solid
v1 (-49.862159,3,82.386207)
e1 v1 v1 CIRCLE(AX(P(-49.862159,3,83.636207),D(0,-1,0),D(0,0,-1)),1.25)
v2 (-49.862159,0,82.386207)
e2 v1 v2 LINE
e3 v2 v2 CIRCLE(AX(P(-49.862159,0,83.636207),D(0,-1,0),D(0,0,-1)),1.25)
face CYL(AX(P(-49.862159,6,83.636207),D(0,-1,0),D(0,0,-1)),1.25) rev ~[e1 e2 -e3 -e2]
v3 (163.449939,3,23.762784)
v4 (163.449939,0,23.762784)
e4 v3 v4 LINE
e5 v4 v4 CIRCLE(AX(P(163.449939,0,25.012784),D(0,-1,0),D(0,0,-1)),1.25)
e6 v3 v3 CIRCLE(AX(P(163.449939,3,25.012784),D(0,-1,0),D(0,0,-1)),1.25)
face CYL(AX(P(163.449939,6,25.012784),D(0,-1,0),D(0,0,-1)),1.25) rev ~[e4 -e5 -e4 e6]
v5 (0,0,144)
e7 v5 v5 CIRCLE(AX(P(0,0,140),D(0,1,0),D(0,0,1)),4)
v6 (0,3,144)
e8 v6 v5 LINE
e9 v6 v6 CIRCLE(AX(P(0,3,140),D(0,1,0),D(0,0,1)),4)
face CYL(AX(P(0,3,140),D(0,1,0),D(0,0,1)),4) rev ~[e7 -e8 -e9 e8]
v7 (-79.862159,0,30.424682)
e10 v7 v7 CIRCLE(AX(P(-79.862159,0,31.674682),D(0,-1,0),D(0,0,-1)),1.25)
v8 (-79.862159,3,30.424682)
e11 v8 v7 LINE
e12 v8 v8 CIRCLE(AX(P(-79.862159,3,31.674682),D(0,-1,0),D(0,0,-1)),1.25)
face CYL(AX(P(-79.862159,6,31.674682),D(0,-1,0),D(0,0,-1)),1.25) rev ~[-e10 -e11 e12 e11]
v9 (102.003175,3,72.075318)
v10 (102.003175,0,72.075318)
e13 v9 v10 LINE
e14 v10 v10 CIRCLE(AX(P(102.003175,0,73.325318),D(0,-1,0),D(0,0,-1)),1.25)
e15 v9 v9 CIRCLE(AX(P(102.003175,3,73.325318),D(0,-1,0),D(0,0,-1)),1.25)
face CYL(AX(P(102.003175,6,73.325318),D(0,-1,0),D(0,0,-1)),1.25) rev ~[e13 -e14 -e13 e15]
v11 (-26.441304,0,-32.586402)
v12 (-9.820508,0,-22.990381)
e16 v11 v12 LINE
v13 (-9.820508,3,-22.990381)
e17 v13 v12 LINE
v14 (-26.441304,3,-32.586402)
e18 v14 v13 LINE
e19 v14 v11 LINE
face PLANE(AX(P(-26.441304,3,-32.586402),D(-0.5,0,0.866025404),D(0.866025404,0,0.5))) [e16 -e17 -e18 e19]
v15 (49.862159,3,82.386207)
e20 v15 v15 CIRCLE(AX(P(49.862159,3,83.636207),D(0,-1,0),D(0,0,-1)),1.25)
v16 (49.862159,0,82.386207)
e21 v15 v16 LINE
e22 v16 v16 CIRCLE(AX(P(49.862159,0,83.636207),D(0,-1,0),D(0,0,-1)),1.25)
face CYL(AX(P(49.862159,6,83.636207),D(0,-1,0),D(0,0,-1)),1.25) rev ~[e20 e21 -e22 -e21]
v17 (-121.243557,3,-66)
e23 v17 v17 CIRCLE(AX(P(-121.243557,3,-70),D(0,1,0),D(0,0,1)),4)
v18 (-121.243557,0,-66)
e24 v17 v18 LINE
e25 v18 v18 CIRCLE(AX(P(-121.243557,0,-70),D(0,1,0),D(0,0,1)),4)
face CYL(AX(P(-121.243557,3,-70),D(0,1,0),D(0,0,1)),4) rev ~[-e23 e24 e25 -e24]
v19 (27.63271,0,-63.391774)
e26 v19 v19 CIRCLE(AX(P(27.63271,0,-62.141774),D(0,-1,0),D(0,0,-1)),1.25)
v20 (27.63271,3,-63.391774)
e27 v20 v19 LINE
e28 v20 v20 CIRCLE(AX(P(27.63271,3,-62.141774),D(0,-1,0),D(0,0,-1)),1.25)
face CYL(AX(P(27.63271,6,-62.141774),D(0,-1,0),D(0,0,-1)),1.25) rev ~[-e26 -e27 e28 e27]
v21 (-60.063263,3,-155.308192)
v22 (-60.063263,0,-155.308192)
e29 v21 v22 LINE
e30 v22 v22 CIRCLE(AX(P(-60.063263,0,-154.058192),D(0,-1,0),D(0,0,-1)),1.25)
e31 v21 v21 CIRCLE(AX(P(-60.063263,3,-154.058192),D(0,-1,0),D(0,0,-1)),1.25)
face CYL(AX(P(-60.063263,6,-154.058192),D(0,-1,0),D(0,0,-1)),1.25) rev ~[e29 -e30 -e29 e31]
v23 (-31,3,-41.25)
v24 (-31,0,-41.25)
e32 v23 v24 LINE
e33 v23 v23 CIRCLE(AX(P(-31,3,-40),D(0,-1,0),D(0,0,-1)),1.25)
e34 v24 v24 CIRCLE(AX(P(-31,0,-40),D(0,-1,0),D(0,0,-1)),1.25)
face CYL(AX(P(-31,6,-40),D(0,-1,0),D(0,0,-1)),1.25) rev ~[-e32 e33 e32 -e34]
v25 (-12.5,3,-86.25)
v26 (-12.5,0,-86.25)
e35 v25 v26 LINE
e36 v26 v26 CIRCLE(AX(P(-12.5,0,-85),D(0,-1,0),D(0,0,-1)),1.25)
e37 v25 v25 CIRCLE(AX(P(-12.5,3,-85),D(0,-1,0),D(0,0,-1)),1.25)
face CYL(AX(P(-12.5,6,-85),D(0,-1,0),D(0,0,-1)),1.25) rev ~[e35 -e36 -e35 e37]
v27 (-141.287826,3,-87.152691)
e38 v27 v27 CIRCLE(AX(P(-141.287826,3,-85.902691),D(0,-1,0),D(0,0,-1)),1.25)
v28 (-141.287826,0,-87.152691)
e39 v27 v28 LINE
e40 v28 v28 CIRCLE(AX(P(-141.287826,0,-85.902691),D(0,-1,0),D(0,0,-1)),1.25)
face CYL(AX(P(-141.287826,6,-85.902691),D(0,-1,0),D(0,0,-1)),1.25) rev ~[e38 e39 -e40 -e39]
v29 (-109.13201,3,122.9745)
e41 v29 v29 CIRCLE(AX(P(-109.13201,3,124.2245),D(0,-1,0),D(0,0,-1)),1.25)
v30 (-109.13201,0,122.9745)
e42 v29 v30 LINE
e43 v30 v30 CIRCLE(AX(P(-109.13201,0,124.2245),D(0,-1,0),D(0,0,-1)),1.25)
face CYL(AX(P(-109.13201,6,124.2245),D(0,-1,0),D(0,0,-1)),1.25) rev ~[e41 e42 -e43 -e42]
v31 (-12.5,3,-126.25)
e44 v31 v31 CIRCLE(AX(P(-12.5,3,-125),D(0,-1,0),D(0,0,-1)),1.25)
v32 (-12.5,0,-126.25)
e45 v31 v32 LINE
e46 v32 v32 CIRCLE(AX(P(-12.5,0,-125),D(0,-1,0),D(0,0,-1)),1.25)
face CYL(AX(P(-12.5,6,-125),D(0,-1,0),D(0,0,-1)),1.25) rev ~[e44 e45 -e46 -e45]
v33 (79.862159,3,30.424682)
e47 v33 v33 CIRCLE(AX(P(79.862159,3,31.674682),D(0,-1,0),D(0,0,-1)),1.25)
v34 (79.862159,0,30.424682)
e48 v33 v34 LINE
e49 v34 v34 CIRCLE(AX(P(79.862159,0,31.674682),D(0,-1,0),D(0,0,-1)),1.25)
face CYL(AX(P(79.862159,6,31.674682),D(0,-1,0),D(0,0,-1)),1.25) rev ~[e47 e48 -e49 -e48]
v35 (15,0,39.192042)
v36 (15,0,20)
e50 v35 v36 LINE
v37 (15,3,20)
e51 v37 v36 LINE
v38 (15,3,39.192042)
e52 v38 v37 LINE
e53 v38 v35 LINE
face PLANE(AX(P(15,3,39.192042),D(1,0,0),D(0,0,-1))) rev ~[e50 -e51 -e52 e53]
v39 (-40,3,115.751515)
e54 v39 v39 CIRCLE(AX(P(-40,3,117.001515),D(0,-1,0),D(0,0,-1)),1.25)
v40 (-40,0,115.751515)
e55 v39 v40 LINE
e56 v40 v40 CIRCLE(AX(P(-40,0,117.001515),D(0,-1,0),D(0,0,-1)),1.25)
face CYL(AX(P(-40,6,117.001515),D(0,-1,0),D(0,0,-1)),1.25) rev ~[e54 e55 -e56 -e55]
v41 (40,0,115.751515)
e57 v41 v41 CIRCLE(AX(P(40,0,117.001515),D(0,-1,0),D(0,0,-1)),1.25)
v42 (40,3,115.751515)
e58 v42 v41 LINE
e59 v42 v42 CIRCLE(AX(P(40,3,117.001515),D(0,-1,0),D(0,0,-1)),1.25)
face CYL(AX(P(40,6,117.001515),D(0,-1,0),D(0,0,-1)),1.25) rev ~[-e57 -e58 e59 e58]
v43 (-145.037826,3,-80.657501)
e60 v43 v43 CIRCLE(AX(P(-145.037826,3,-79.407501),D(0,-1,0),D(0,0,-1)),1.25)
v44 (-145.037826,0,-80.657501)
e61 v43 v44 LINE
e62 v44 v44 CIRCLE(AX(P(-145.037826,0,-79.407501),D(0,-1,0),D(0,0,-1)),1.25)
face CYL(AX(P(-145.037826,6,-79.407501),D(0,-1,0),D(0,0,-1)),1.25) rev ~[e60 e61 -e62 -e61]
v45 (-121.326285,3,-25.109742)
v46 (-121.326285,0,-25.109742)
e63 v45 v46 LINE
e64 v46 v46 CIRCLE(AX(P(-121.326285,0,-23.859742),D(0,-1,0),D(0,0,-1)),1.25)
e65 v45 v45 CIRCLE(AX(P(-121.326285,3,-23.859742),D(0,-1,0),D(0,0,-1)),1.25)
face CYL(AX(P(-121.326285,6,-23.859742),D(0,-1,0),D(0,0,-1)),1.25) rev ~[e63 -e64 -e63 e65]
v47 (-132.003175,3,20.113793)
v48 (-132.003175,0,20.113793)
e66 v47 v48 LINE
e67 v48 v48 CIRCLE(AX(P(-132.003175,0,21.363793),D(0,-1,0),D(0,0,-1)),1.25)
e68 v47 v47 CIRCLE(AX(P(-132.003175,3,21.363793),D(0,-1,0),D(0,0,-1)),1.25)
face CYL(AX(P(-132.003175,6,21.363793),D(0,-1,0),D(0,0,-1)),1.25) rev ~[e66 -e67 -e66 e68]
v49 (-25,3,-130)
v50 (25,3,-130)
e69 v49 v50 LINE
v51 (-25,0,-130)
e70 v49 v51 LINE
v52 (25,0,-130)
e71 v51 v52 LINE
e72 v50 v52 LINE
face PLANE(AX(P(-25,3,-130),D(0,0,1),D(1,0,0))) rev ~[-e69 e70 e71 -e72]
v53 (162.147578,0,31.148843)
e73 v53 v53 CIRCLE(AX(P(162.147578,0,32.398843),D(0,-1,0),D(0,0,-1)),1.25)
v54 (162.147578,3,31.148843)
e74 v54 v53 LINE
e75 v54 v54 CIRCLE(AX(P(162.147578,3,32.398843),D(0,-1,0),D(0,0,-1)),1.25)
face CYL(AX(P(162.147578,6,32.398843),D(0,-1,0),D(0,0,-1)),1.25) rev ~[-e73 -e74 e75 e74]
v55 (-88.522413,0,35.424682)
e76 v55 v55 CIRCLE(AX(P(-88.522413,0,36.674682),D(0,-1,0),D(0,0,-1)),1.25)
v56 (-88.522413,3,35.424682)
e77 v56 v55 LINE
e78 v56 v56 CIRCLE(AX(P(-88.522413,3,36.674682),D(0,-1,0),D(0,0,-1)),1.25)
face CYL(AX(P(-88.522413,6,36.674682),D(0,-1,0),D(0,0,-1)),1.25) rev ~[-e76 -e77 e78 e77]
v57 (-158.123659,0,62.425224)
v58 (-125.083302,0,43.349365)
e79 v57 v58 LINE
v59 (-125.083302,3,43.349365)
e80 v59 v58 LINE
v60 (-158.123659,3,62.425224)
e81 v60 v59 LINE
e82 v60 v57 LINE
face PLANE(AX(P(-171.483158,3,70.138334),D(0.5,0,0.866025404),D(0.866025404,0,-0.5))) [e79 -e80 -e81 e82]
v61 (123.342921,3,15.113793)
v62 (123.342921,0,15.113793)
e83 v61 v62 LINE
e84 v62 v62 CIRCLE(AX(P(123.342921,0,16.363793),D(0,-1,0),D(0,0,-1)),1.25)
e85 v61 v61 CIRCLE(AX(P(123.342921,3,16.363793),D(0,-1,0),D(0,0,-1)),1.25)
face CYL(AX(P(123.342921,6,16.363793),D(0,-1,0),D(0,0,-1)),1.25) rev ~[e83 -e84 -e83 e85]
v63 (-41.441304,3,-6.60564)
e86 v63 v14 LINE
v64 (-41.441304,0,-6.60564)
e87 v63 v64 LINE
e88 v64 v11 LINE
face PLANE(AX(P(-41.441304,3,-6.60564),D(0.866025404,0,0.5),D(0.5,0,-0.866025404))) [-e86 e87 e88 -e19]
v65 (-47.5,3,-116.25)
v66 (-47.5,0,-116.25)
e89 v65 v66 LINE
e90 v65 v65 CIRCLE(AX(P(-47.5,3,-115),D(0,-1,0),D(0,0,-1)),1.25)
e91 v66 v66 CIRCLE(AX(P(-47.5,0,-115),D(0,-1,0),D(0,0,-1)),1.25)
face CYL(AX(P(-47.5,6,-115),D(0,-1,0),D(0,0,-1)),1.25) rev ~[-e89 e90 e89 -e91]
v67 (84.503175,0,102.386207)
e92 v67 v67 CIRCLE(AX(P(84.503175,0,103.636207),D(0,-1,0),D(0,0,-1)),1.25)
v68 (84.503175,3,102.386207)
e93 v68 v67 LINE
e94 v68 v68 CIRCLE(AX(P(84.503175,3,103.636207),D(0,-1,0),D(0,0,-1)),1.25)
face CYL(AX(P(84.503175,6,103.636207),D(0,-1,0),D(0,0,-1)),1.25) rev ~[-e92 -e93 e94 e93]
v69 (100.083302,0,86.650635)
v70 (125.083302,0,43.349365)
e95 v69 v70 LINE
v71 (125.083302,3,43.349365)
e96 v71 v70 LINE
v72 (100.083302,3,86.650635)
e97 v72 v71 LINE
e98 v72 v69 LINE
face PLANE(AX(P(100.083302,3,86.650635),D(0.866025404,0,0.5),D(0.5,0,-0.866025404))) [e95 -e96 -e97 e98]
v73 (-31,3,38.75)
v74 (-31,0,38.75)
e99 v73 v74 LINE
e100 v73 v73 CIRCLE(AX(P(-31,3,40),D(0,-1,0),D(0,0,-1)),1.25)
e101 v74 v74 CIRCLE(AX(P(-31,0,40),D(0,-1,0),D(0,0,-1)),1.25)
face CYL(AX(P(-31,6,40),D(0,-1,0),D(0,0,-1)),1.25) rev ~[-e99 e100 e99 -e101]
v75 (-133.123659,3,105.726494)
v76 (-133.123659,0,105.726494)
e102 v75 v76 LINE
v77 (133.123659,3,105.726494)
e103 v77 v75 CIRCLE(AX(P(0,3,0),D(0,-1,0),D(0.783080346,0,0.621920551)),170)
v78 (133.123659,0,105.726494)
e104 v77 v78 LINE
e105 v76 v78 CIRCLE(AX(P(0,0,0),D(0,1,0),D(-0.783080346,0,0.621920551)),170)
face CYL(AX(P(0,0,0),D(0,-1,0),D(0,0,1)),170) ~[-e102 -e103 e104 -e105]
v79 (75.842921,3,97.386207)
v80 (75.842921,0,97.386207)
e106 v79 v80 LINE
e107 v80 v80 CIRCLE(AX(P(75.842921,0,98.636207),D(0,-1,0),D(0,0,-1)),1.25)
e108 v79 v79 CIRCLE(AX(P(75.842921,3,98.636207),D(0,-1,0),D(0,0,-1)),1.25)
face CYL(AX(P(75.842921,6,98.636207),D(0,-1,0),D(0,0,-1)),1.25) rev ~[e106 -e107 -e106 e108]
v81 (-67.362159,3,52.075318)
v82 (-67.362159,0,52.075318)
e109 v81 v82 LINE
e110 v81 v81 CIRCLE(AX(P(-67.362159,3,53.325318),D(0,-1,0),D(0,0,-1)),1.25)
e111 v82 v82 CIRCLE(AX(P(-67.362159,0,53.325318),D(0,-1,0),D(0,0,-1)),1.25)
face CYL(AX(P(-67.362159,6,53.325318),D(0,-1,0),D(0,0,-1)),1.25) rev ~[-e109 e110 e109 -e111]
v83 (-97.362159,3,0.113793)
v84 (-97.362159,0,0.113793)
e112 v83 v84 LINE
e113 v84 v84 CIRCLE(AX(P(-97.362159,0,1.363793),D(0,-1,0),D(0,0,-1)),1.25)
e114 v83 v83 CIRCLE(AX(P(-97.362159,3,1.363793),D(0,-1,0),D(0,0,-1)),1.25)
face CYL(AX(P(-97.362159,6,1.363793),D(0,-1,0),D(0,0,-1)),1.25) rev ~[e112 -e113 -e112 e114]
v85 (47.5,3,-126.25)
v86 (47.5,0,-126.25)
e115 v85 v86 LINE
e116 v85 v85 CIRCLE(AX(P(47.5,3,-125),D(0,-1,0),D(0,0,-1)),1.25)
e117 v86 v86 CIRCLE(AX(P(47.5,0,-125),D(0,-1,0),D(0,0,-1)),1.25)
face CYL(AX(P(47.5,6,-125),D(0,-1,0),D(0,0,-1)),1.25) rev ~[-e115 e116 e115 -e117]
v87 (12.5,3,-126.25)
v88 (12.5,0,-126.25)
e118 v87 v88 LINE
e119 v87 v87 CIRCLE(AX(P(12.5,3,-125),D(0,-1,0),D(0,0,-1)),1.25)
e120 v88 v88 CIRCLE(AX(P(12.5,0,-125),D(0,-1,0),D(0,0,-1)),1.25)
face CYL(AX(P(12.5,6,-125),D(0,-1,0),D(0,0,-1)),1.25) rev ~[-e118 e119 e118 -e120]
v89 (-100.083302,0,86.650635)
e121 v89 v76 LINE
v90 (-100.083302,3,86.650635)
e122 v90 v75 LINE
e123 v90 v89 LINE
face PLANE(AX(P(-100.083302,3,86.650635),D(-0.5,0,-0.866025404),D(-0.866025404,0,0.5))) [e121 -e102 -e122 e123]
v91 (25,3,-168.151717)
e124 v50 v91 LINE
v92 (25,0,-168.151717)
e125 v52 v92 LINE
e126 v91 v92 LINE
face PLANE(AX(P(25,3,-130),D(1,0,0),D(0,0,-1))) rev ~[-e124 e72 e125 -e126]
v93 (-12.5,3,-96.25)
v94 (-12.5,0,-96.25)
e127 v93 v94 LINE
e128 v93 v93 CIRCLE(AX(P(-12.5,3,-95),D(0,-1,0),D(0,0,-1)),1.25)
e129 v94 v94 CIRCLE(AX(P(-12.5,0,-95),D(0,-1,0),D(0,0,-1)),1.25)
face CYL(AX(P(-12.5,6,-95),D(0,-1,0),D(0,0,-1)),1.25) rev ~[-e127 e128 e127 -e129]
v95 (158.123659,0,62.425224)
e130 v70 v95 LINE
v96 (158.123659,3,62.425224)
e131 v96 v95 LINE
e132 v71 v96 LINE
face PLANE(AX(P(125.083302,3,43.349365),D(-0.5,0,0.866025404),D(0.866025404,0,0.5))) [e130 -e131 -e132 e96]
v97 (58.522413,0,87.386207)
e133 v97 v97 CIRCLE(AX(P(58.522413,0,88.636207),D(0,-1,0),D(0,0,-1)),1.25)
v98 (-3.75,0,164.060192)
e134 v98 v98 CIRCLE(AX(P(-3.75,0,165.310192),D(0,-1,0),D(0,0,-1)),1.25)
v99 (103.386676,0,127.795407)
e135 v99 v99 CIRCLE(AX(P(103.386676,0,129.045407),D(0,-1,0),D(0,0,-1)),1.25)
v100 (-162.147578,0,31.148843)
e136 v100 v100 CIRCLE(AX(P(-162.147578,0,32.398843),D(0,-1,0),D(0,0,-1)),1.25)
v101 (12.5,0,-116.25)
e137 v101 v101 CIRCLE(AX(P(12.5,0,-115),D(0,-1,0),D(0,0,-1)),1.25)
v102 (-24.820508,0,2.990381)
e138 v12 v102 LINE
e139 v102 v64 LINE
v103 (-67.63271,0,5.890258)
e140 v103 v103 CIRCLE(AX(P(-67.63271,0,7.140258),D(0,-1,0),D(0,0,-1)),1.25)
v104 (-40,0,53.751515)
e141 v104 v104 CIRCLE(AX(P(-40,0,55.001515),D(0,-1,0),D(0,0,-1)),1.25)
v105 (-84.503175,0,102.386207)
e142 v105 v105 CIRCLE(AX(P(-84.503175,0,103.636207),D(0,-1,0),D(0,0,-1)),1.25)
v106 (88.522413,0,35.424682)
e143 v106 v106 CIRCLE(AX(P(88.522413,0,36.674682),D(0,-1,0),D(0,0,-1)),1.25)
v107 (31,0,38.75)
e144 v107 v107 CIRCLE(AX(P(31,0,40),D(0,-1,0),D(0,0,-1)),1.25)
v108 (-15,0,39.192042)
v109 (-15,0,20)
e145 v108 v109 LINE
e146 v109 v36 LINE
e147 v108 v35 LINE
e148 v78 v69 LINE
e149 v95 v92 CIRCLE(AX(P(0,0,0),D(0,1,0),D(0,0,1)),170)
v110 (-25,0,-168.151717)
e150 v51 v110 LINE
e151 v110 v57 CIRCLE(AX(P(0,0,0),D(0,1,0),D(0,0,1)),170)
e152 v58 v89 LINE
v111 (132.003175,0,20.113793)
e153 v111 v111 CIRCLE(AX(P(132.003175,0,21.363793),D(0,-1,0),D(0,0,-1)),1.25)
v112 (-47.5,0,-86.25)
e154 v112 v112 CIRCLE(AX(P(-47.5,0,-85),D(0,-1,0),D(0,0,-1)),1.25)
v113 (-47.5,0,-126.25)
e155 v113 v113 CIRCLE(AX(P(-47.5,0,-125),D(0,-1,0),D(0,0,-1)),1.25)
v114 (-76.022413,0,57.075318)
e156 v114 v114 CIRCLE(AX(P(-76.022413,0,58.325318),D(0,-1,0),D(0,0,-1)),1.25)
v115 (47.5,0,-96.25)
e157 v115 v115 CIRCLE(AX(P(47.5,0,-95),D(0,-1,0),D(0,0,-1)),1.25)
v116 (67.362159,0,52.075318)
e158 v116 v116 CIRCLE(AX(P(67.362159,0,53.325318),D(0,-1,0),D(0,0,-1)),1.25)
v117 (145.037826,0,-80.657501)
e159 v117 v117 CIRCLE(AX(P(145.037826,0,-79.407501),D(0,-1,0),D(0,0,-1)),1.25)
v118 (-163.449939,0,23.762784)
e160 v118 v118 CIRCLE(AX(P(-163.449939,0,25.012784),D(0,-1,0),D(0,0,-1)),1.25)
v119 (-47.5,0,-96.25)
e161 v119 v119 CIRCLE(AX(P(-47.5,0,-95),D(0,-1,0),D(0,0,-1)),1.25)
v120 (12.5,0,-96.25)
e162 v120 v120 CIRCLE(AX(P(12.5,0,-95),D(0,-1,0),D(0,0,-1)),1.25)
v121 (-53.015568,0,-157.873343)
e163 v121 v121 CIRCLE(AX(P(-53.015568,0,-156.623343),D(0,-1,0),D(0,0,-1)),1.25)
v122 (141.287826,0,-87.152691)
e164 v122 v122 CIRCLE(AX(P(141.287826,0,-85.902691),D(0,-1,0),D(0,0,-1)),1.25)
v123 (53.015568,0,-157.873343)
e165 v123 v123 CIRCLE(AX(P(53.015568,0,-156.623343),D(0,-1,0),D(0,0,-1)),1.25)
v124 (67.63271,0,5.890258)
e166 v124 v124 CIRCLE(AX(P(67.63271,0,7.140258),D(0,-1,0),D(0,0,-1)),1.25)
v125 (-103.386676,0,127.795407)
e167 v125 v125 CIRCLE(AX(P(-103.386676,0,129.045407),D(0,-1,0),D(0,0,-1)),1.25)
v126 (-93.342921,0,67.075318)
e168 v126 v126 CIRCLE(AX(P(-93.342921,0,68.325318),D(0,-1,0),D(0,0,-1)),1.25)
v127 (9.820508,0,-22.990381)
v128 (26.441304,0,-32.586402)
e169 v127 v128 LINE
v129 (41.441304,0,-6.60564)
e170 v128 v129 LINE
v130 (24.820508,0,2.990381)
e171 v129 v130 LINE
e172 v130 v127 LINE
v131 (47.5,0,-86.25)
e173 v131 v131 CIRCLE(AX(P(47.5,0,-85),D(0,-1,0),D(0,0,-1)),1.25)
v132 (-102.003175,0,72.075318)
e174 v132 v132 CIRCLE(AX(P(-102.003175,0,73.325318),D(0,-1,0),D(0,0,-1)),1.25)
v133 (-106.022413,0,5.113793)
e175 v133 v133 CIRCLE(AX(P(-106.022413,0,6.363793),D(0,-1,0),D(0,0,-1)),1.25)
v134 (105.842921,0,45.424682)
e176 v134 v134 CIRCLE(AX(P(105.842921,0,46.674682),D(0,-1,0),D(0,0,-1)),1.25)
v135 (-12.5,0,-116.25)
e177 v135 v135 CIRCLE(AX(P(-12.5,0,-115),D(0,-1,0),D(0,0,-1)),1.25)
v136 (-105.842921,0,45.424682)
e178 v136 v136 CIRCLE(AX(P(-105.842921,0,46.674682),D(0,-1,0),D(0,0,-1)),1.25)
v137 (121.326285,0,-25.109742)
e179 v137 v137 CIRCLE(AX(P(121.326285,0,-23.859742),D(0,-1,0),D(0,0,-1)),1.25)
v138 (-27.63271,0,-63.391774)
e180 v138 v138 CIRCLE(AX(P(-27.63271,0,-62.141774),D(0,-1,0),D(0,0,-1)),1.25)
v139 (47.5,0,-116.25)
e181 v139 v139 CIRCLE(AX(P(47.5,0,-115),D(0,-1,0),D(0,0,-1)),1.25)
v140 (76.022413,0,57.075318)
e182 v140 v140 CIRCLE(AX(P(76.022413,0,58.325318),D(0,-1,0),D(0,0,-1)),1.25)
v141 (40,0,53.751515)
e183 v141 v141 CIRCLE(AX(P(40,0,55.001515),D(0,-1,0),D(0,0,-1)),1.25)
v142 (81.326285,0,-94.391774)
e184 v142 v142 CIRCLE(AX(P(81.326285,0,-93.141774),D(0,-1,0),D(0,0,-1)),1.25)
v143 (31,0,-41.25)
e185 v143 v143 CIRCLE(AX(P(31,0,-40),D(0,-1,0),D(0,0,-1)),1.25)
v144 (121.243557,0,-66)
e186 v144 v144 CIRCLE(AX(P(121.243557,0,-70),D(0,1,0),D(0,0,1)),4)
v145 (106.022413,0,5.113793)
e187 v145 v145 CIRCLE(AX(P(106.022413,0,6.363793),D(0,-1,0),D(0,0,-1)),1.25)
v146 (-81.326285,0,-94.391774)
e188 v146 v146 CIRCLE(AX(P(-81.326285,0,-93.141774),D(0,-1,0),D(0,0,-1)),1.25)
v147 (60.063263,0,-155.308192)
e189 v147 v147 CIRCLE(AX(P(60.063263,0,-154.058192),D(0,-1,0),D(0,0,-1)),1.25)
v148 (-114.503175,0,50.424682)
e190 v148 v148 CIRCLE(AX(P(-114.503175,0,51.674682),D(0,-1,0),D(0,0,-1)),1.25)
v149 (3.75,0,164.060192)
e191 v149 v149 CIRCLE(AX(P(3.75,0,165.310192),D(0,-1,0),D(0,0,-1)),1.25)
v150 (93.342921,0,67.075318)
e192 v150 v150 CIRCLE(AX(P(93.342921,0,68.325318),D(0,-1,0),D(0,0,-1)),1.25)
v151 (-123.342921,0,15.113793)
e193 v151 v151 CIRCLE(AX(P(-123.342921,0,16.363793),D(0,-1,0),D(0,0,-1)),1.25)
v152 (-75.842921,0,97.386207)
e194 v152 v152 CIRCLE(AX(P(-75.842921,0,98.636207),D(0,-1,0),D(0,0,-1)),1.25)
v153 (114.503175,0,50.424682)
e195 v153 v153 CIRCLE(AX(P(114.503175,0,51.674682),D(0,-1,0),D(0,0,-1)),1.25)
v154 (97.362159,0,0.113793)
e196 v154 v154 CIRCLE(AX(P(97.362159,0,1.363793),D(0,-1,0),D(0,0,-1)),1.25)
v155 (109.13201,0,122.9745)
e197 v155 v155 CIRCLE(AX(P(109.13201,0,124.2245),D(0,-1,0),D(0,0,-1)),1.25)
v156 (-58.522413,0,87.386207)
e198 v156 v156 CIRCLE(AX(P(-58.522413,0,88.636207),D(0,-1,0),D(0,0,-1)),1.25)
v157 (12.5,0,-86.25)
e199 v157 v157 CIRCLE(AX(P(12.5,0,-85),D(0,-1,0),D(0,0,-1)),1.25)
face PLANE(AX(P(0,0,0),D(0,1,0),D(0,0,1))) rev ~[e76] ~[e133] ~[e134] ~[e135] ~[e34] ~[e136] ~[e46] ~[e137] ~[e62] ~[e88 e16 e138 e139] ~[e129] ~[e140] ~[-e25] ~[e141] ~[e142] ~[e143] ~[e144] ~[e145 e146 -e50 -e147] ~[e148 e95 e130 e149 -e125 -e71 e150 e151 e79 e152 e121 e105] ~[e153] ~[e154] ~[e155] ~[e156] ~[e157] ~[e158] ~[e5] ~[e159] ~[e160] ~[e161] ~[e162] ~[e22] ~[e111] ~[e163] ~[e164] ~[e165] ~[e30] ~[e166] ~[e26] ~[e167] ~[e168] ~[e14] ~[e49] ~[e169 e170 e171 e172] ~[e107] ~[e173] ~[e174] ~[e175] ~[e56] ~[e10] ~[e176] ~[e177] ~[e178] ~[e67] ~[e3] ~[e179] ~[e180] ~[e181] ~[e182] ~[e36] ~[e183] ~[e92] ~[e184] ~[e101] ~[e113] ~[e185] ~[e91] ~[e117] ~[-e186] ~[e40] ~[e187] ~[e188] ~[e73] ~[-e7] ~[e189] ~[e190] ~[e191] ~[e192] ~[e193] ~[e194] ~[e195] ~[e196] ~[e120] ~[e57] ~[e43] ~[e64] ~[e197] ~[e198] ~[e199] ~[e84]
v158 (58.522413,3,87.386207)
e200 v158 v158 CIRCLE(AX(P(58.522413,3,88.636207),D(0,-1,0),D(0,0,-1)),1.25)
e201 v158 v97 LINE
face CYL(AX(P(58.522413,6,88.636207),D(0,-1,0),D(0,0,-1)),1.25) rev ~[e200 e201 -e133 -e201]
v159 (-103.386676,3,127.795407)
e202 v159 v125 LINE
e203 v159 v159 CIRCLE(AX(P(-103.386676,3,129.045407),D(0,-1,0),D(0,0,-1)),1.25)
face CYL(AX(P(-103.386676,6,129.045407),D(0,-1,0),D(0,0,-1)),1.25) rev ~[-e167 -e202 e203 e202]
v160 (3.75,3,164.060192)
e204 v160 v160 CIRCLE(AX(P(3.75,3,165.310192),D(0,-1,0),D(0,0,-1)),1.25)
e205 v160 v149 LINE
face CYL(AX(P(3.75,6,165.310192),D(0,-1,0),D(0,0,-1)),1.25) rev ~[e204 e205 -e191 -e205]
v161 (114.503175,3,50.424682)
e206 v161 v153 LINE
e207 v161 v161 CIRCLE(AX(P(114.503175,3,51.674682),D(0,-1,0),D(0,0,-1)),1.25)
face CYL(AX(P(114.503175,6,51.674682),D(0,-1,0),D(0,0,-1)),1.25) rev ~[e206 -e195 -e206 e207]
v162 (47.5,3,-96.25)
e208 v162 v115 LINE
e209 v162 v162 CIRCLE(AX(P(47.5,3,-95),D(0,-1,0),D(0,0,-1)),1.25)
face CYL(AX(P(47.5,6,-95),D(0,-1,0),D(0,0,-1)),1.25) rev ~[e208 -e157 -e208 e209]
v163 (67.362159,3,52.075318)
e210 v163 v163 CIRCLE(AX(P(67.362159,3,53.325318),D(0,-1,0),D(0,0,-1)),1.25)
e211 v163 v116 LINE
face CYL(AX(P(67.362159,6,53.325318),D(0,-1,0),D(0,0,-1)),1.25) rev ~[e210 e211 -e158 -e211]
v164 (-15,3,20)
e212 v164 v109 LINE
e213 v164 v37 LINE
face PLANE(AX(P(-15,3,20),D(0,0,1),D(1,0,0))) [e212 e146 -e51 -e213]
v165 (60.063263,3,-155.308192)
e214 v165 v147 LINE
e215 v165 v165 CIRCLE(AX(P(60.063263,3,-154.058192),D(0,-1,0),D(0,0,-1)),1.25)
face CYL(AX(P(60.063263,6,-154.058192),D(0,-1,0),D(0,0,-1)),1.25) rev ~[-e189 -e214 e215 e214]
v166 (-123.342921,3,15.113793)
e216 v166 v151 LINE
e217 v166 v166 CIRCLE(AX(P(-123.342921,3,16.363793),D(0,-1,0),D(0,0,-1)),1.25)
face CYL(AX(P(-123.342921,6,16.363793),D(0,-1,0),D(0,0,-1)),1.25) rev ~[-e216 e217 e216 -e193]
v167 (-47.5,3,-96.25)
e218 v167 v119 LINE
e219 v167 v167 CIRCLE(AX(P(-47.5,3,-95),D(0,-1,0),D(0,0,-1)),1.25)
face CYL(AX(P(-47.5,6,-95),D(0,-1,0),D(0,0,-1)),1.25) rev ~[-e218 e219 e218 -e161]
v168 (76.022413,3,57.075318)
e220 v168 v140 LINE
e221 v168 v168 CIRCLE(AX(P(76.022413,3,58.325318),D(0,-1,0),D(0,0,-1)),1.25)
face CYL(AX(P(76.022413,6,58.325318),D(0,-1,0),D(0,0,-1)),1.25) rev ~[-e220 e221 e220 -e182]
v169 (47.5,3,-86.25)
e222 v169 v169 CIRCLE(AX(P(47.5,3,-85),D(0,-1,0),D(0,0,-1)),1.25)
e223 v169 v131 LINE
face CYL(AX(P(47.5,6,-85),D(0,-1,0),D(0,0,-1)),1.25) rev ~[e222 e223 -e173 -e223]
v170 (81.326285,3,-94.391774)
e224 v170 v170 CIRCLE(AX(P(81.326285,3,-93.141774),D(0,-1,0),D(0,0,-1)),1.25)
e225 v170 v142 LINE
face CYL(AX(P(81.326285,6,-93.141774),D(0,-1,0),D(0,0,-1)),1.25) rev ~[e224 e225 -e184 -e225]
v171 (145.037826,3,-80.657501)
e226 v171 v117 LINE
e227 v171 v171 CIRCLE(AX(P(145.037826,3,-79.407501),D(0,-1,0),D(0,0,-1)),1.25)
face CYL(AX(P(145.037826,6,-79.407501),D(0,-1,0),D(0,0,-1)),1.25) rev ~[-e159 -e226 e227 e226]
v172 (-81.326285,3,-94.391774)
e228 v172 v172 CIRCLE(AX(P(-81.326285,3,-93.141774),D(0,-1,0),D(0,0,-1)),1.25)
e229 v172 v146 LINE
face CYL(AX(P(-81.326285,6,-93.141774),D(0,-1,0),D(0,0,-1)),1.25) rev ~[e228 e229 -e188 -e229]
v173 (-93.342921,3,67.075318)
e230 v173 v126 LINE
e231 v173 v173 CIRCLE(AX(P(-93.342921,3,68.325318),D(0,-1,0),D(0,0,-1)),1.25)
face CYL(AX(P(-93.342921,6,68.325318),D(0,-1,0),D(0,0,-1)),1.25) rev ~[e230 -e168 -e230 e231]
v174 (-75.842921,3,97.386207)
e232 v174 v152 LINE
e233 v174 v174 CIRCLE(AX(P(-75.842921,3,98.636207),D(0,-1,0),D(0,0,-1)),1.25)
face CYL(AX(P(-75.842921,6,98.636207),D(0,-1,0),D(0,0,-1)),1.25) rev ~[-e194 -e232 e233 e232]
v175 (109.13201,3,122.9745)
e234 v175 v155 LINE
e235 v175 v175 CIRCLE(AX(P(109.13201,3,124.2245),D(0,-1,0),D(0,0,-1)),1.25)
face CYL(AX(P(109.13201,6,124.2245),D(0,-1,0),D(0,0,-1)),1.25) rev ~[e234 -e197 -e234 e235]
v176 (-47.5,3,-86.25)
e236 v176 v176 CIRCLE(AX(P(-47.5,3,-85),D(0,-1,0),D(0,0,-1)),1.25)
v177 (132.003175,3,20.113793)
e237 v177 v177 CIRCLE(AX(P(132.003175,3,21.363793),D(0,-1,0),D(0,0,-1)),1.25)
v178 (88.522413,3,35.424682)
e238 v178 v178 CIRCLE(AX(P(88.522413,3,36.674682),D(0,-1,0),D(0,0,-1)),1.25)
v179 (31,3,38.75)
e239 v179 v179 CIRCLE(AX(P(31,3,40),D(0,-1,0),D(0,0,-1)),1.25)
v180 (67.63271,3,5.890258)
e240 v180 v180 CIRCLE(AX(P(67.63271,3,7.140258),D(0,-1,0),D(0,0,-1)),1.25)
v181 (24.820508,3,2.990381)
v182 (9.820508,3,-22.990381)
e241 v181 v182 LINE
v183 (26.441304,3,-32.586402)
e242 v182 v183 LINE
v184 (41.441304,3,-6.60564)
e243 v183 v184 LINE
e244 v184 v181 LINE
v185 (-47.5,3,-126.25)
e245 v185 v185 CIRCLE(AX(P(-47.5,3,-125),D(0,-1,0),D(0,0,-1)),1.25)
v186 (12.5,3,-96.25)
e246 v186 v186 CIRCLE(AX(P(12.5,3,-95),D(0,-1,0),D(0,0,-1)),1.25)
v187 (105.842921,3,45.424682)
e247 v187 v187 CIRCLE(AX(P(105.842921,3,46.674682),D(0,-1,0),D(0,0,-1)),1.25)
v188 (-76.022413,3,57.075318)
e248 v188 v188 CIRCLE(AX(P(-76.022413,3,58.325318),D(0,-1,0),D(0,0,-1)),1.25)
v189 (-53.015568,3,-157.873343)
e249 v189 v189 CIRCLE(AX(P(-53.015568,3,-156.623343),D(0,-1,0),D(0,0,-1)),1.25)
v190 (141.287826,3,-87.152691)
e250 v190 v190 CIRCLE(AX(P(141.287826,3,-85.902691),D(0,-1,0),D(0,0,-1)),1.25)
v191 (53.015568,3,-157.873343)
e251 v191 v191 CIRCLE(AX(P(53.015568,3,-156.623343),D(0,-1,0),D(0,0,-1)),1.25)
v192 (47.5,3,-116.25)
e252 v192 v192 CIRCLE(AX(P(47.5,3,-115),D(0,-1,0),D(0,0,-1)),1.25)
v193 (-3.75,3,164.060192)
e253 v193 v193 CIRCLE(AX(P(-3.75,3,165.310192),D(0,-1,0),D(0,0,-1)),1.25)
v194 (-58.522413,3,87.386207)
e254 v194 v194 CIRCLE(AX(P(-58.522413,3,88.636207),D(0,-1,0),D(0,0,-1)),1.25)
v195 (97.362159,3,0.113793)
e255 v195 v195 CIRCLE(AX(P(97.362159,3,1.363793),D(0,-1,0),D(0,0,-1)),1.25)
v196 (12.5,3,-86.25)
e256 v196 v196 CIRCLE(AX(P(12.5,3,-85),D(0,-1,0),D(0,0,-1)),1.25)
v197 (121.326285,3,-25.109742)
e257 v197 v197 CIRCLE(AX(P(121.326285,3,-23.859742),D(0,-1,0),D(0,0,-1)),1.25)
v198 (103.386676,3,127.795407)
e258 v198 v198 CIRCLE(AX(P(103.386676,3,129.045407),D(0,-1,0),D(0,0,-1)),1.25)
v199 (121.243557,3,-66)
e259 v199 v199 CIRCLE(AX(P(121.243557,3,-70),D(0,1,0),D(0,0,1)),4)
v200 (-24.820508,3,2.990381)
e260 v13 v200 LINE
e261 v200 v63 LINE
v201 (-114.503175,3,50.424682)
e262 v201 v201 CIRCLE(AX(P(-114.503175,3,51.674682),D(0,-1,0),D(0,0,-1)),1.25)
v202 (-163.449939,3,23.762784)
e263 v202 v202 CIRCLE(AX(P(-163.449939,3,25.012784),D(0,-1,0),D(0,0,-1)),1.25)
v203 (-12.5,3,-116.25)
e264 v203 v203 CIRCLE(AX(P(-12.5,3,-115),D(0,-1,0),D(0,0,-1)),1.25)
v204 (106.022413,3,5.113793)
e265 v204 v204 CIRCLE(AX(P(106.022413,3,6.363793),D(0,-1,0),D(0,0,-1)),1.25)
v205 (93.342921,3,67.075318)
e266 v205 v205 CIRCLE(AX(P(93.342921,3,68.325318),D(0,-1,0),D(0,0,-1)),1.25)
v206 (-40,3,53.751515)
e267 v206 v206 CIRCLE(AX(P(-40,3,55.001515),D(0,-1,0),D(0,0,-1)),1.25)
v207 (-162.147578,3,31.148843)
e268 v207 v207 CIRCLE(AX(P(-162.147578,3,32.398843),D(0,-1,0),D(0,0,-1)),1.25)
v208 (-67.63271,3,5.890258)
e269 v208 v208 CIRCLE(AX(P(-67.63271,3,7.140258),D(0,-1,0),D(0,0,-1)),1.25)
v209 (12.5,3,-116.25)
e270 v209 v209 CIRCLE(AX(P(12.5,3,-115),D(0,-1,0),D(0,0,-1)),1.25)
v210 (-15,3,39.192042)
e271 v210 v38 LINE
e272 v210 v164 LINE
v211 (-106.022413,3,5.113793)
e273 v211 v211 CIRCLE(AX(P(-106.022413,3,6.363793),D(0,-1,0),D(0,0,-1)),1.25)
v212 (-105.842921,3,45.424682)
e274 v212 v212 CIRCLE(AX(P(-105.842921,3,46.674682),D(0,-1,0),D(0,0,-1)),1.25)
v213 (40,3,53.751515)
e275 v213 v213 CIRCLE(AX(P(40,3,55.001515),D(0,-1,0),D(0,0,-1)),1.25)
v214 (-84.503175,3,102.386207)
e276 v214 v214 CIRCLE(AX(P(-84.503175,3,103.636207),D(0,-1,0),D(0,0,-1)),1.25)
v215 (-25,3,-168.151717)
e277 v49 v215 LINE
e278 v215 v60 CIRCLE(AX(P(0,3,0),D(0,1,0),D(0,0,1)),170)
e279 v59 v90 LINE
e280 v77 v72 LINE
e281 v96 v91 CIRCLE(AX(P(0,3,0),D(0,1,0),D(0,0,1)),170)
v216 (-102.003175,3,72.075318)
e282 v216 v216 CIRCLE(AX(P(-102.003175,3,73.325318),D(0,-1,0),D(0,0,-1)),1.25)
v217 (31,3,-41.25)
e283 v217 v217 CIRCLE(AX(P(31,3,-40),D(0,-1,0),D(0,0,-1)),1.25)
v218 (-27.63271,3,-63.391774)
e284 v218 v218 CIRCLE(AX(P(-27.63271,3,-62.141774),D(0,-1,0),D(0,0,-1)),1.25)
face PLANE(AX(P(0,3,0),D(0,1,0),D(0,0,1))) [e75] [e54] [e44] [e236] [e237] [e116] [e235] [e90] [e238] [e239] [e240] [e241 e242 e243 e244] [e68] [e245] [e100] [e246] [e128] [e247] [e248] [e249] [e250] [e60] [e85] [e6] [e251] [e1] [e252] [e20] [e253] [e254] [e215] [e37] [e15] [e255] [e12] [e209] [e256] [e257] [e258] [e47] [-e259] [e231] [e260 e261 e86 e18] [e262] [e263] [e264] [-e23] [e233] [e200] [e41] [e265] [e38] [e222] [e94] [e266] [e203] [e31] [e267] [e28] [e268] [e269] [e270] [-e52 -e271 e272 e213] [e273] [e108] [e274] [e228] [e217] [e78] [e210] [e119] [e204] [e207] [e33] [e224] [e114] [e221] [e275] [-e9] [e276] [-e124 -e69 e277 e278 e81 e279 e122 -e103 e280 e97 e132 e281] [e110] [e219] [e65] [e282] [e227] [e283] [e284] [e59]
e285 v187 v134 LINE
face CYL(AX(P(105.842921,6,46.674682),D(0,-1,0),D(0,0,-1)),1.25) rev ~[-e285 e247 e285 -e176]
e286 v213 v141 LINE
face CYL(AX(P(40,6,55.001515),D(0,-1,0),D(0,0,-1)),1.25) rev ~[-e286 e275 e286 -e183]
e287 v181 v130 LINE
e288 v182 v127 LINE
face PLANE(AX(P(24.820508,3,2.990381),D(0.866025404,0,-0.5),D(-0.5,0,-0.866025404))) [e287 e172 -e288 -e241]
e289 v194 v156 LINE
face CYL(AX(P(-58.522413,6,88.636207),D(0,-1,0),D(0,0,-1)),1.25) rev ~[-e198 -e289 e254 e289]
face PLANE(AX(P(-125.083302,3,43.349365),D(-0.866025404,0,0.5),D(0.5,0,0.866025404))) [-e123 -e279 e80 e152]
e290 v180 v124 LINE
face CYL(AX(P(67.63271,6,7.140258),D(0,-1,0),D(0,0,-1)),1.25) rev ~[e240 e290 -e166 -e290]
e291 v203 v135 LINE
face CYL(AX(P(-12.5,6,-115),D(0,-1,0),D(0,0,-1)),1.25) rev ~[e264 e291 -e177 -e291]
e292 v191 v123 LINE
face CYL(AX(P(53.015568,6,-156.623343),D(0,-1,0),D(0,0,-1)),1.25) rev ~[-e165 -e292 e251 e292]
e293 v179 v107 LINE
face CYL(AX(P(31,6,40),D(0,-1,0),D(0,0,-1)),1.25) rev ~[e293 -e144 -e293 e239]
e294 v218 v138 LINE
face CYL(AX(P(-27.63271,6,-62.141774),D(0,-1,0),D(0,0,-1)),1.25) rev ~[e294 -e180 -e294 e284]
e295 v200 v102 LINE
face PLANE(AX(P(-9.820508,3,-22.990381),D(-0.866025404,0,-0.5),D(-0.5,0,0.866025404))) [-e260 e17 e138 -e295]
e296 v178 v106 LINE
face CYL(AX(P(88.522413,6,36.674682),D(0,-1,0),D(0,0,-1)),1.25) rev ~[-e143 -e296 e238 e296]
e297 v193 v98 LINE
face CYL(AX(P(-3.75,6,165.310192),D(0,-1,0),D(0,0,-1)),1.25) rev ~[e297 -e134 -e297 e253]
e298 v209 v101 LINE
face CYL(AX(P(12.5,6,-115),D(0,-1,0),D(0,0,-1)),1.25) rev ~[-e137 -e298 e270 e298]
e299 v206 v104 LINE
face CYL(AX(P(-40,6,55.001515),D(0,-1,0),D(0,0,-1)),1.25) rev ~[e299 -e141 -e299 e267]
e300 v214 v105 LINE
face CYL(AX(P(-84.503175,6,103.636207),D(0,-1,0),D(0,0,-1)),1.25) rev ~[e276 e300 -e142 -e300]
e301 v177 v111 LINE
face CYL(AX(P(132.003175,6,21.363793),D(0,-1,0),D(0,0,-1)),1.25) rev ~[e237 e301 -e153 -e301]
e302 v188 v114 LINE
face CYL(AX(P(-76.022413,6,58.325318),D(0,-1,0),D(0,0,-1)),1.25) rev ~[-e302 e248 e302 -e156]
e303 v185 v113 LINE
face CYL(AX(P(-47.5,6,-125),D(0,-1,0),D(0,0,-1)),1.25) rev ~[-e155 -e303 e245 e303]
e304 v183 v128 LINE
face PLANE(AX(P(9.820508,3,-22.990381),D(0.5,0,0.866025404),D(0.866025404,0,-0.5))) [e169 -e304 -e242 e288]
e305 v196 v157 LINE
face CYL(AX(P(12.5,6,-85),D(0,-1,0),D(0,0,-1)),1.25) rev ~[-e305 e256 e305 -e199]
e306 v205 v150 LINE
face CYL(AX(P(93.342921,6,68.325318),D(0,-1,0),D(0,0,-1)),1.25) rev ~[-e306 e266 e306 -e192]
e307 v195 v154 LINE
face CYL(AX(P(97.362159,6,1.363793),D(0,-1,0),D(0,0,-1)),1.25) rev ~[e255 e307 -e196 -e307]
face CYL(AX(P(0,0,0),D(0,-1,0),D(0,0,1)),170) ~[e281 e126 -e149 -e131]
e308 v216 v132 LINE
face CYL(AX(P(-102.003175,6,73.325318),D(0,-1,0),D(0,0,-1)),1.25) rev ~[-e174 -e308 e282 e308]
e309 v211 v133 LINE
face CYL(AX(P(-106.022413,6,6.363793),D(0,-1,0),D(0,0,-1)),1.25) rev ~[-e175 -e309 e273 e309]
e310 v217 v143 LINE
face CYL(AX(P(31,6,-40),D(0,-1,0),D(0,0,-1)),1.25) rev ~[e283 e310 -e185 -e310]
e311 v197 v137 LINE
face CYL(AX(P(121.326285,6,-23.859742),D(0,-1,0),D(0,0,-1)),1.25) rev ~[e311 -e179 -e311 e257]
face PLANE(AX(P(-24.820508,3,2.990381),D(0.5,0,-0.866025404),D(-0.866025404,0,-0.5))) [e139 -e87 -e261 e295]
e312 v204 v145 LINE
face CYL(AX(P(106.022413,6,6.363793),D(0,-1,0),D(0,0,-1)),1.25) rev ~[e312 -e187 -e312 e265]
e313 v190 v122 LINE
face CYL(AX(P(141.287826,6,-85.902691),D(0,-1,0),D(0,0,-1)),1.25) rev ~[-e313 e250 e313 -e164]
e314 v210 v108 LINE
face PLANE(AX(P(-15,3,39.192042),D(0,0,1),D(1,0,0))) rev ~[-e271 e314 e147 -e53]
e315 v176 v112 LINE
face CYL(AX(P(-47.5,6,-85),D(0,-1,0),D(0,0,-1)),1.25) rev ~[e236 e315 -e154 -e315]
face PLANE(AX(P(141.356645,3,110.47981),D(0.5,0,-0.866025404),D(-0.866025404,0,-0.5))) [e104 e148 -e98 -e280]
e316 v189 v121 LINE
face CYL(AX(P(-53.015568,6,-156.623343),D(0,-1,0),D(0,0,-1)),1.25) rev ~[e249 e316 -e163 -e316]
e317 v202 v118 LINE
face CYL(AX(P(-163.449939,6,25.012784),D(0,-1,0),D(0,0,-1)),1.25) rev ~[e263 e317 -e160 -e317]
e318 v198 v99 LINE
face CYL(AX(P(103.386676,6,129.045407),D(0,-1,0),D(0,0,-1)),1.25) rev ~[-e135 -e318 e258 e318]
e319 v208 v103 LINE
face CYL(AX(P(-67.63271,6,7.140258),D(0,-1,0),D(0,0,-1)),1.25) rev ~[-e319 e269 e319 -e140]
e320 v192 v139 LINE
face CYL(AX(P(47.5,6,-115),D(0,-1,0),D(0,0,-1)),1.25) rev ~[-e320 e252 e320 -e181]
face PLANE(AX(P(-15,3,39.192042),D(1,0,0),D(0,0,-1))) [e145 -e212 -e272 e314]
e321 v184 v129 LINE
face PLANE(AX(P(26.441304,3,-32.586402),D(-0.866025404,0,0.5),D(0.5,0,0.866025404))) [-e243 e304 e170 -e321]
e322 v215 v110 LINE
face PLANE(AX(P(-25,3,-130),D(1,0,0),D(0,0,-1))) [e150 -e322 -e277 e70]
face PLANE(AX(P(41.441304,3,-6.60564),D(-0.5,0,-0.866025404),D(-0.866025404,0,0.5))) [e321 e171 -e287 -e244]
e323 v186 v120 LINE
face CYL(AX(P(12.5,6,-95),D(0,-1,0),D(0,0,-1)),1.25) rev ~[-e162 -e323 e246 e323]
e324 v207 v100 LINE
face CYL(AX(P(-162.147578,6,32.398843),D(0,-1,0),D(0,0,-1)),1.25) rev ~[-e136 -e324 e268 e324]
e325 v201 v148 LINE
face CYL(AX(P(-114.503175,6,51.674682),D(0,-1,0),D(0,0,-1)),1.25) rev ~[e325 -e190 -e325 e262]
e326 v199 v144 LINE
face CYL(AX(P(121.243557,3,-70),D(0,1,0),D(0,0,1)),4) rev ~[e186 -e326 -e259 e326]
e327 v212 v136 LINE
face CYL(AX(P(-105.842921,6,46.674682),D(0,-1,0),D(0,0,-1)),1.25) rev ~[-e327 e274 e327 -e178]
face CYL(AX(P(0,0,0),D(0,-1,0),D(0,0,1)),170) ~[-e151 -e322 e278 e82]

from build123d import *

# Parameters (mm, degrees)
SKETCH_1_R              = 170
EXTRUDE_1_DEPTH         = 3
SKETCH_2_W              = 50
SKETCH_2_H              = 56.899134832
CUT_EXTRUDE_1_DEPTH     = 3
SKETCH_4_R              = 4
CUT_EXTRUDE_3_DEPTH     = 3
HOLE_WIZARD_M3_2_D      = 2.5
HOLE_WIZARD_M3_2_DEPTH  = 3
SKETCH_15_W             = 30
SKETCH_15_H             = 19.192042138
CUT_EXTRUDE_5_DEPTH     = 10
HOLE_WIZARD_M3_12_D     = 2.5
HOLE_WIZARD_M3_12_DEPTH = 3


with BuildPart() as part:
    # Sketch 1 → Extrude 1 (new body)
    with BuildSketch(Plane(origin=(0, 0, 0), x_dir=(1, 0, 0), z_dir=(0, 1, 0))):
        with Locations(Location((0, 0, 0), (0, 0, 270))):  # turned: the seam where the file's is
            Circle(SKETCH_1_R)
    extrude(amount=EXTRUDE_1_DEPTH)

    # Sketch 2 → Cut-Extrude 1 (cut)
    with BuildSketch(Plane(origin=(0, 3, 0), x_dir=(1, 0, 0), z_dir=(0, 1, 0))):
        Polygon((100.083302492, -86.650635095), (125.083302492, -43.349364905), (166.35664483, -67.178540215), (141.35664483, -110.479810404), align=None)
        with Locations((0, 158.449567416)):
            Rectangle(SKETCH_2_W, SKETCH_2_H)
        Polygon((-125.083302492, -43.349364905), (-100.083302492, -86.650635095), (-146.483158101, -113.439604221), (-171.483158101, -70.138334032), align=None)
    extrude(amount=-CUT_EXTRUDE_1_DEPTH, mode=Mode.SUBTRACT)

    # Sketch 4 → Cut-Extrude 3 (cut)
    with BuildSketch(Plane(origin=(0, 3, 0), x_dir=(1, 0, 0), z_dir=(0, 1, 0))):
        with Locations(Location((0, -140, 0), (0, 0, 270))):  # turned: the seam where the file's is
            Circle(SKETCH_4_R)
        with Locations(Location((-121.24355653, 70, 0), (0, 0, 270))):  # turned: the seam where the file's is
            Circle(SKETCH_4_R)
        with Locations(Location((121.24355653, 70, 0), (0, 0, 270))):  # turned: the seam where the file's is
            Circle(SKETCH_4_R)
    extrude(amount=-CUT_EXTRUDE_3_DEPTH, mode=Mode.SUBTRACT)

    # Hole Wizard M3 _2
    with Locations(Plane(origin=(-53.015568193, 3, -156.623342989), x_dir=(0, 0, 1), z_dir=(0, 1, 0))):
        with Locations((0, 0), (2.565151075, -7.047694655), (70.720651784, -88.272257481), (77.215842312, -92.022257481), (181.636127485, -110.43437109), (189.022185633, -109.132009758), (280.847843334, -56.116441565), (285.668750407, -50.371108242), (321.93353487, 49.265568193), (321.93353487, 56.765568193), (285.668750407, 156.402244628), (280.847843334, 162.147577951), (189.022185633, 215.163146144), (181.636127485, 216.465507476), (77.215842312, 198.053393867), (70.720651784, 194.303393867), (0, 106.031136386), (2.565151075, 113.078831041), (116.623342989, 84.015568193), (116.623342989, 22.015568193), (196.623342989, 22.015568193), (196.623342989, 84.015568193)):
            Hole(HOLE_WIZARD_M3_2_D / 2, depth=HOLE_WIZARD_M3_2_DEPTH)

    # Sketch 15 → Cut-Extrude 5 (cut)
    with BuildSketch(Plane(origin=(0, 3, 0), x_dir=(1, 0, 0), z_dir=(0, 1, 0))):
        with Locations((0, -29.596021069)):
            Rectangle(SKETCH_15_W, SKETCH_15_H)
        Polygon((-9.820508076, 22.990381057), (-24.820508076, -2.990381057), (-41.441304118, 6.605640012), (-26.441304118, 32.586402126), align=None)
        Polygon((24.820508076, -2.990381057), (9.820508076, 22.990381057), (26.441304118, 32.586402126), (41.441304118, 6.605640012), align=None)
    extrude(amount=-CUT_EXTRUDE_5_DEPTH, mode=Mode.SUBTRACT)

    # Hole Wizard M3 _12
    with Locations(Plane(origin=(-47.5, 3, -125), x_dir=(0, 0, 1), z_dir=(0, 1, 0))):
        with Locations((0, 0), (10, 0), (30, 0), (40, 0), (40, 35), (30, 35), (10, 35), (0, 35), (0, 60), (10, 60), (30, 60), (40, 60), (40, 95), (30, 95), (10, 95), (0, 95), (31.858226152, 128.826284612), (62.858226152, 75.132709578), (132.140258455, 115.132709578), (101.140258455, 168.826284612), (126.36379332, 144.862159322), (131.36379332, 153.52241336), (141.36379332, 170.842921435), (146.36379332, 179.503175473), (176.674682453, 162.003175473), (171.674682453, 153.342921435), (161.674682453, 136.02241336), (156.674682453, 127.362159322), (178.325317547, 114.862159322), (183.325317547, 123.52241336), (193.325317547, 140.842921435), (198.325317547, 149.503175473), (228.63620668, 132.003175473), (223.63620668, 123.342921435), (213.63620668, 106.02241336), (208.63620668, 97.362159322), (180.001515394, 87.5), (242.001515394, 87.5), (242.001515394, 7.5), (180.001515394, 7.5), (228.63620668, -37.003175473), (223.63620668, -28.342921435), (213.63620668, -11.022413359), (208.63620668, -2.362159322), (178.325317547, -19.862159322), (183.325317547, -28.522413359), (193.325317547, -45.842921435), (198.325317547, -54.503175473), (176.674682453, -67.003175473), (171.674682453, -58.342921435), (161.674682453, -41.022413359), (156.674682453, -32.362159322), (126.36379332, -49.862159322), (131.36379332, -58.522413359), (141.36379332, -75.842921435), (146.36379332, -84.503175473), (31.858226152, -33.826284612), (101.140258455, -73.826284612), (132.140258455, -20.132709578), (62.858226152, 19.867290422)):
            Hole(HOLE_WIZARD_M3_12_D / 2, depth=HOLE_WIZARD_M3_12_DEPTH)


solid = part.part
